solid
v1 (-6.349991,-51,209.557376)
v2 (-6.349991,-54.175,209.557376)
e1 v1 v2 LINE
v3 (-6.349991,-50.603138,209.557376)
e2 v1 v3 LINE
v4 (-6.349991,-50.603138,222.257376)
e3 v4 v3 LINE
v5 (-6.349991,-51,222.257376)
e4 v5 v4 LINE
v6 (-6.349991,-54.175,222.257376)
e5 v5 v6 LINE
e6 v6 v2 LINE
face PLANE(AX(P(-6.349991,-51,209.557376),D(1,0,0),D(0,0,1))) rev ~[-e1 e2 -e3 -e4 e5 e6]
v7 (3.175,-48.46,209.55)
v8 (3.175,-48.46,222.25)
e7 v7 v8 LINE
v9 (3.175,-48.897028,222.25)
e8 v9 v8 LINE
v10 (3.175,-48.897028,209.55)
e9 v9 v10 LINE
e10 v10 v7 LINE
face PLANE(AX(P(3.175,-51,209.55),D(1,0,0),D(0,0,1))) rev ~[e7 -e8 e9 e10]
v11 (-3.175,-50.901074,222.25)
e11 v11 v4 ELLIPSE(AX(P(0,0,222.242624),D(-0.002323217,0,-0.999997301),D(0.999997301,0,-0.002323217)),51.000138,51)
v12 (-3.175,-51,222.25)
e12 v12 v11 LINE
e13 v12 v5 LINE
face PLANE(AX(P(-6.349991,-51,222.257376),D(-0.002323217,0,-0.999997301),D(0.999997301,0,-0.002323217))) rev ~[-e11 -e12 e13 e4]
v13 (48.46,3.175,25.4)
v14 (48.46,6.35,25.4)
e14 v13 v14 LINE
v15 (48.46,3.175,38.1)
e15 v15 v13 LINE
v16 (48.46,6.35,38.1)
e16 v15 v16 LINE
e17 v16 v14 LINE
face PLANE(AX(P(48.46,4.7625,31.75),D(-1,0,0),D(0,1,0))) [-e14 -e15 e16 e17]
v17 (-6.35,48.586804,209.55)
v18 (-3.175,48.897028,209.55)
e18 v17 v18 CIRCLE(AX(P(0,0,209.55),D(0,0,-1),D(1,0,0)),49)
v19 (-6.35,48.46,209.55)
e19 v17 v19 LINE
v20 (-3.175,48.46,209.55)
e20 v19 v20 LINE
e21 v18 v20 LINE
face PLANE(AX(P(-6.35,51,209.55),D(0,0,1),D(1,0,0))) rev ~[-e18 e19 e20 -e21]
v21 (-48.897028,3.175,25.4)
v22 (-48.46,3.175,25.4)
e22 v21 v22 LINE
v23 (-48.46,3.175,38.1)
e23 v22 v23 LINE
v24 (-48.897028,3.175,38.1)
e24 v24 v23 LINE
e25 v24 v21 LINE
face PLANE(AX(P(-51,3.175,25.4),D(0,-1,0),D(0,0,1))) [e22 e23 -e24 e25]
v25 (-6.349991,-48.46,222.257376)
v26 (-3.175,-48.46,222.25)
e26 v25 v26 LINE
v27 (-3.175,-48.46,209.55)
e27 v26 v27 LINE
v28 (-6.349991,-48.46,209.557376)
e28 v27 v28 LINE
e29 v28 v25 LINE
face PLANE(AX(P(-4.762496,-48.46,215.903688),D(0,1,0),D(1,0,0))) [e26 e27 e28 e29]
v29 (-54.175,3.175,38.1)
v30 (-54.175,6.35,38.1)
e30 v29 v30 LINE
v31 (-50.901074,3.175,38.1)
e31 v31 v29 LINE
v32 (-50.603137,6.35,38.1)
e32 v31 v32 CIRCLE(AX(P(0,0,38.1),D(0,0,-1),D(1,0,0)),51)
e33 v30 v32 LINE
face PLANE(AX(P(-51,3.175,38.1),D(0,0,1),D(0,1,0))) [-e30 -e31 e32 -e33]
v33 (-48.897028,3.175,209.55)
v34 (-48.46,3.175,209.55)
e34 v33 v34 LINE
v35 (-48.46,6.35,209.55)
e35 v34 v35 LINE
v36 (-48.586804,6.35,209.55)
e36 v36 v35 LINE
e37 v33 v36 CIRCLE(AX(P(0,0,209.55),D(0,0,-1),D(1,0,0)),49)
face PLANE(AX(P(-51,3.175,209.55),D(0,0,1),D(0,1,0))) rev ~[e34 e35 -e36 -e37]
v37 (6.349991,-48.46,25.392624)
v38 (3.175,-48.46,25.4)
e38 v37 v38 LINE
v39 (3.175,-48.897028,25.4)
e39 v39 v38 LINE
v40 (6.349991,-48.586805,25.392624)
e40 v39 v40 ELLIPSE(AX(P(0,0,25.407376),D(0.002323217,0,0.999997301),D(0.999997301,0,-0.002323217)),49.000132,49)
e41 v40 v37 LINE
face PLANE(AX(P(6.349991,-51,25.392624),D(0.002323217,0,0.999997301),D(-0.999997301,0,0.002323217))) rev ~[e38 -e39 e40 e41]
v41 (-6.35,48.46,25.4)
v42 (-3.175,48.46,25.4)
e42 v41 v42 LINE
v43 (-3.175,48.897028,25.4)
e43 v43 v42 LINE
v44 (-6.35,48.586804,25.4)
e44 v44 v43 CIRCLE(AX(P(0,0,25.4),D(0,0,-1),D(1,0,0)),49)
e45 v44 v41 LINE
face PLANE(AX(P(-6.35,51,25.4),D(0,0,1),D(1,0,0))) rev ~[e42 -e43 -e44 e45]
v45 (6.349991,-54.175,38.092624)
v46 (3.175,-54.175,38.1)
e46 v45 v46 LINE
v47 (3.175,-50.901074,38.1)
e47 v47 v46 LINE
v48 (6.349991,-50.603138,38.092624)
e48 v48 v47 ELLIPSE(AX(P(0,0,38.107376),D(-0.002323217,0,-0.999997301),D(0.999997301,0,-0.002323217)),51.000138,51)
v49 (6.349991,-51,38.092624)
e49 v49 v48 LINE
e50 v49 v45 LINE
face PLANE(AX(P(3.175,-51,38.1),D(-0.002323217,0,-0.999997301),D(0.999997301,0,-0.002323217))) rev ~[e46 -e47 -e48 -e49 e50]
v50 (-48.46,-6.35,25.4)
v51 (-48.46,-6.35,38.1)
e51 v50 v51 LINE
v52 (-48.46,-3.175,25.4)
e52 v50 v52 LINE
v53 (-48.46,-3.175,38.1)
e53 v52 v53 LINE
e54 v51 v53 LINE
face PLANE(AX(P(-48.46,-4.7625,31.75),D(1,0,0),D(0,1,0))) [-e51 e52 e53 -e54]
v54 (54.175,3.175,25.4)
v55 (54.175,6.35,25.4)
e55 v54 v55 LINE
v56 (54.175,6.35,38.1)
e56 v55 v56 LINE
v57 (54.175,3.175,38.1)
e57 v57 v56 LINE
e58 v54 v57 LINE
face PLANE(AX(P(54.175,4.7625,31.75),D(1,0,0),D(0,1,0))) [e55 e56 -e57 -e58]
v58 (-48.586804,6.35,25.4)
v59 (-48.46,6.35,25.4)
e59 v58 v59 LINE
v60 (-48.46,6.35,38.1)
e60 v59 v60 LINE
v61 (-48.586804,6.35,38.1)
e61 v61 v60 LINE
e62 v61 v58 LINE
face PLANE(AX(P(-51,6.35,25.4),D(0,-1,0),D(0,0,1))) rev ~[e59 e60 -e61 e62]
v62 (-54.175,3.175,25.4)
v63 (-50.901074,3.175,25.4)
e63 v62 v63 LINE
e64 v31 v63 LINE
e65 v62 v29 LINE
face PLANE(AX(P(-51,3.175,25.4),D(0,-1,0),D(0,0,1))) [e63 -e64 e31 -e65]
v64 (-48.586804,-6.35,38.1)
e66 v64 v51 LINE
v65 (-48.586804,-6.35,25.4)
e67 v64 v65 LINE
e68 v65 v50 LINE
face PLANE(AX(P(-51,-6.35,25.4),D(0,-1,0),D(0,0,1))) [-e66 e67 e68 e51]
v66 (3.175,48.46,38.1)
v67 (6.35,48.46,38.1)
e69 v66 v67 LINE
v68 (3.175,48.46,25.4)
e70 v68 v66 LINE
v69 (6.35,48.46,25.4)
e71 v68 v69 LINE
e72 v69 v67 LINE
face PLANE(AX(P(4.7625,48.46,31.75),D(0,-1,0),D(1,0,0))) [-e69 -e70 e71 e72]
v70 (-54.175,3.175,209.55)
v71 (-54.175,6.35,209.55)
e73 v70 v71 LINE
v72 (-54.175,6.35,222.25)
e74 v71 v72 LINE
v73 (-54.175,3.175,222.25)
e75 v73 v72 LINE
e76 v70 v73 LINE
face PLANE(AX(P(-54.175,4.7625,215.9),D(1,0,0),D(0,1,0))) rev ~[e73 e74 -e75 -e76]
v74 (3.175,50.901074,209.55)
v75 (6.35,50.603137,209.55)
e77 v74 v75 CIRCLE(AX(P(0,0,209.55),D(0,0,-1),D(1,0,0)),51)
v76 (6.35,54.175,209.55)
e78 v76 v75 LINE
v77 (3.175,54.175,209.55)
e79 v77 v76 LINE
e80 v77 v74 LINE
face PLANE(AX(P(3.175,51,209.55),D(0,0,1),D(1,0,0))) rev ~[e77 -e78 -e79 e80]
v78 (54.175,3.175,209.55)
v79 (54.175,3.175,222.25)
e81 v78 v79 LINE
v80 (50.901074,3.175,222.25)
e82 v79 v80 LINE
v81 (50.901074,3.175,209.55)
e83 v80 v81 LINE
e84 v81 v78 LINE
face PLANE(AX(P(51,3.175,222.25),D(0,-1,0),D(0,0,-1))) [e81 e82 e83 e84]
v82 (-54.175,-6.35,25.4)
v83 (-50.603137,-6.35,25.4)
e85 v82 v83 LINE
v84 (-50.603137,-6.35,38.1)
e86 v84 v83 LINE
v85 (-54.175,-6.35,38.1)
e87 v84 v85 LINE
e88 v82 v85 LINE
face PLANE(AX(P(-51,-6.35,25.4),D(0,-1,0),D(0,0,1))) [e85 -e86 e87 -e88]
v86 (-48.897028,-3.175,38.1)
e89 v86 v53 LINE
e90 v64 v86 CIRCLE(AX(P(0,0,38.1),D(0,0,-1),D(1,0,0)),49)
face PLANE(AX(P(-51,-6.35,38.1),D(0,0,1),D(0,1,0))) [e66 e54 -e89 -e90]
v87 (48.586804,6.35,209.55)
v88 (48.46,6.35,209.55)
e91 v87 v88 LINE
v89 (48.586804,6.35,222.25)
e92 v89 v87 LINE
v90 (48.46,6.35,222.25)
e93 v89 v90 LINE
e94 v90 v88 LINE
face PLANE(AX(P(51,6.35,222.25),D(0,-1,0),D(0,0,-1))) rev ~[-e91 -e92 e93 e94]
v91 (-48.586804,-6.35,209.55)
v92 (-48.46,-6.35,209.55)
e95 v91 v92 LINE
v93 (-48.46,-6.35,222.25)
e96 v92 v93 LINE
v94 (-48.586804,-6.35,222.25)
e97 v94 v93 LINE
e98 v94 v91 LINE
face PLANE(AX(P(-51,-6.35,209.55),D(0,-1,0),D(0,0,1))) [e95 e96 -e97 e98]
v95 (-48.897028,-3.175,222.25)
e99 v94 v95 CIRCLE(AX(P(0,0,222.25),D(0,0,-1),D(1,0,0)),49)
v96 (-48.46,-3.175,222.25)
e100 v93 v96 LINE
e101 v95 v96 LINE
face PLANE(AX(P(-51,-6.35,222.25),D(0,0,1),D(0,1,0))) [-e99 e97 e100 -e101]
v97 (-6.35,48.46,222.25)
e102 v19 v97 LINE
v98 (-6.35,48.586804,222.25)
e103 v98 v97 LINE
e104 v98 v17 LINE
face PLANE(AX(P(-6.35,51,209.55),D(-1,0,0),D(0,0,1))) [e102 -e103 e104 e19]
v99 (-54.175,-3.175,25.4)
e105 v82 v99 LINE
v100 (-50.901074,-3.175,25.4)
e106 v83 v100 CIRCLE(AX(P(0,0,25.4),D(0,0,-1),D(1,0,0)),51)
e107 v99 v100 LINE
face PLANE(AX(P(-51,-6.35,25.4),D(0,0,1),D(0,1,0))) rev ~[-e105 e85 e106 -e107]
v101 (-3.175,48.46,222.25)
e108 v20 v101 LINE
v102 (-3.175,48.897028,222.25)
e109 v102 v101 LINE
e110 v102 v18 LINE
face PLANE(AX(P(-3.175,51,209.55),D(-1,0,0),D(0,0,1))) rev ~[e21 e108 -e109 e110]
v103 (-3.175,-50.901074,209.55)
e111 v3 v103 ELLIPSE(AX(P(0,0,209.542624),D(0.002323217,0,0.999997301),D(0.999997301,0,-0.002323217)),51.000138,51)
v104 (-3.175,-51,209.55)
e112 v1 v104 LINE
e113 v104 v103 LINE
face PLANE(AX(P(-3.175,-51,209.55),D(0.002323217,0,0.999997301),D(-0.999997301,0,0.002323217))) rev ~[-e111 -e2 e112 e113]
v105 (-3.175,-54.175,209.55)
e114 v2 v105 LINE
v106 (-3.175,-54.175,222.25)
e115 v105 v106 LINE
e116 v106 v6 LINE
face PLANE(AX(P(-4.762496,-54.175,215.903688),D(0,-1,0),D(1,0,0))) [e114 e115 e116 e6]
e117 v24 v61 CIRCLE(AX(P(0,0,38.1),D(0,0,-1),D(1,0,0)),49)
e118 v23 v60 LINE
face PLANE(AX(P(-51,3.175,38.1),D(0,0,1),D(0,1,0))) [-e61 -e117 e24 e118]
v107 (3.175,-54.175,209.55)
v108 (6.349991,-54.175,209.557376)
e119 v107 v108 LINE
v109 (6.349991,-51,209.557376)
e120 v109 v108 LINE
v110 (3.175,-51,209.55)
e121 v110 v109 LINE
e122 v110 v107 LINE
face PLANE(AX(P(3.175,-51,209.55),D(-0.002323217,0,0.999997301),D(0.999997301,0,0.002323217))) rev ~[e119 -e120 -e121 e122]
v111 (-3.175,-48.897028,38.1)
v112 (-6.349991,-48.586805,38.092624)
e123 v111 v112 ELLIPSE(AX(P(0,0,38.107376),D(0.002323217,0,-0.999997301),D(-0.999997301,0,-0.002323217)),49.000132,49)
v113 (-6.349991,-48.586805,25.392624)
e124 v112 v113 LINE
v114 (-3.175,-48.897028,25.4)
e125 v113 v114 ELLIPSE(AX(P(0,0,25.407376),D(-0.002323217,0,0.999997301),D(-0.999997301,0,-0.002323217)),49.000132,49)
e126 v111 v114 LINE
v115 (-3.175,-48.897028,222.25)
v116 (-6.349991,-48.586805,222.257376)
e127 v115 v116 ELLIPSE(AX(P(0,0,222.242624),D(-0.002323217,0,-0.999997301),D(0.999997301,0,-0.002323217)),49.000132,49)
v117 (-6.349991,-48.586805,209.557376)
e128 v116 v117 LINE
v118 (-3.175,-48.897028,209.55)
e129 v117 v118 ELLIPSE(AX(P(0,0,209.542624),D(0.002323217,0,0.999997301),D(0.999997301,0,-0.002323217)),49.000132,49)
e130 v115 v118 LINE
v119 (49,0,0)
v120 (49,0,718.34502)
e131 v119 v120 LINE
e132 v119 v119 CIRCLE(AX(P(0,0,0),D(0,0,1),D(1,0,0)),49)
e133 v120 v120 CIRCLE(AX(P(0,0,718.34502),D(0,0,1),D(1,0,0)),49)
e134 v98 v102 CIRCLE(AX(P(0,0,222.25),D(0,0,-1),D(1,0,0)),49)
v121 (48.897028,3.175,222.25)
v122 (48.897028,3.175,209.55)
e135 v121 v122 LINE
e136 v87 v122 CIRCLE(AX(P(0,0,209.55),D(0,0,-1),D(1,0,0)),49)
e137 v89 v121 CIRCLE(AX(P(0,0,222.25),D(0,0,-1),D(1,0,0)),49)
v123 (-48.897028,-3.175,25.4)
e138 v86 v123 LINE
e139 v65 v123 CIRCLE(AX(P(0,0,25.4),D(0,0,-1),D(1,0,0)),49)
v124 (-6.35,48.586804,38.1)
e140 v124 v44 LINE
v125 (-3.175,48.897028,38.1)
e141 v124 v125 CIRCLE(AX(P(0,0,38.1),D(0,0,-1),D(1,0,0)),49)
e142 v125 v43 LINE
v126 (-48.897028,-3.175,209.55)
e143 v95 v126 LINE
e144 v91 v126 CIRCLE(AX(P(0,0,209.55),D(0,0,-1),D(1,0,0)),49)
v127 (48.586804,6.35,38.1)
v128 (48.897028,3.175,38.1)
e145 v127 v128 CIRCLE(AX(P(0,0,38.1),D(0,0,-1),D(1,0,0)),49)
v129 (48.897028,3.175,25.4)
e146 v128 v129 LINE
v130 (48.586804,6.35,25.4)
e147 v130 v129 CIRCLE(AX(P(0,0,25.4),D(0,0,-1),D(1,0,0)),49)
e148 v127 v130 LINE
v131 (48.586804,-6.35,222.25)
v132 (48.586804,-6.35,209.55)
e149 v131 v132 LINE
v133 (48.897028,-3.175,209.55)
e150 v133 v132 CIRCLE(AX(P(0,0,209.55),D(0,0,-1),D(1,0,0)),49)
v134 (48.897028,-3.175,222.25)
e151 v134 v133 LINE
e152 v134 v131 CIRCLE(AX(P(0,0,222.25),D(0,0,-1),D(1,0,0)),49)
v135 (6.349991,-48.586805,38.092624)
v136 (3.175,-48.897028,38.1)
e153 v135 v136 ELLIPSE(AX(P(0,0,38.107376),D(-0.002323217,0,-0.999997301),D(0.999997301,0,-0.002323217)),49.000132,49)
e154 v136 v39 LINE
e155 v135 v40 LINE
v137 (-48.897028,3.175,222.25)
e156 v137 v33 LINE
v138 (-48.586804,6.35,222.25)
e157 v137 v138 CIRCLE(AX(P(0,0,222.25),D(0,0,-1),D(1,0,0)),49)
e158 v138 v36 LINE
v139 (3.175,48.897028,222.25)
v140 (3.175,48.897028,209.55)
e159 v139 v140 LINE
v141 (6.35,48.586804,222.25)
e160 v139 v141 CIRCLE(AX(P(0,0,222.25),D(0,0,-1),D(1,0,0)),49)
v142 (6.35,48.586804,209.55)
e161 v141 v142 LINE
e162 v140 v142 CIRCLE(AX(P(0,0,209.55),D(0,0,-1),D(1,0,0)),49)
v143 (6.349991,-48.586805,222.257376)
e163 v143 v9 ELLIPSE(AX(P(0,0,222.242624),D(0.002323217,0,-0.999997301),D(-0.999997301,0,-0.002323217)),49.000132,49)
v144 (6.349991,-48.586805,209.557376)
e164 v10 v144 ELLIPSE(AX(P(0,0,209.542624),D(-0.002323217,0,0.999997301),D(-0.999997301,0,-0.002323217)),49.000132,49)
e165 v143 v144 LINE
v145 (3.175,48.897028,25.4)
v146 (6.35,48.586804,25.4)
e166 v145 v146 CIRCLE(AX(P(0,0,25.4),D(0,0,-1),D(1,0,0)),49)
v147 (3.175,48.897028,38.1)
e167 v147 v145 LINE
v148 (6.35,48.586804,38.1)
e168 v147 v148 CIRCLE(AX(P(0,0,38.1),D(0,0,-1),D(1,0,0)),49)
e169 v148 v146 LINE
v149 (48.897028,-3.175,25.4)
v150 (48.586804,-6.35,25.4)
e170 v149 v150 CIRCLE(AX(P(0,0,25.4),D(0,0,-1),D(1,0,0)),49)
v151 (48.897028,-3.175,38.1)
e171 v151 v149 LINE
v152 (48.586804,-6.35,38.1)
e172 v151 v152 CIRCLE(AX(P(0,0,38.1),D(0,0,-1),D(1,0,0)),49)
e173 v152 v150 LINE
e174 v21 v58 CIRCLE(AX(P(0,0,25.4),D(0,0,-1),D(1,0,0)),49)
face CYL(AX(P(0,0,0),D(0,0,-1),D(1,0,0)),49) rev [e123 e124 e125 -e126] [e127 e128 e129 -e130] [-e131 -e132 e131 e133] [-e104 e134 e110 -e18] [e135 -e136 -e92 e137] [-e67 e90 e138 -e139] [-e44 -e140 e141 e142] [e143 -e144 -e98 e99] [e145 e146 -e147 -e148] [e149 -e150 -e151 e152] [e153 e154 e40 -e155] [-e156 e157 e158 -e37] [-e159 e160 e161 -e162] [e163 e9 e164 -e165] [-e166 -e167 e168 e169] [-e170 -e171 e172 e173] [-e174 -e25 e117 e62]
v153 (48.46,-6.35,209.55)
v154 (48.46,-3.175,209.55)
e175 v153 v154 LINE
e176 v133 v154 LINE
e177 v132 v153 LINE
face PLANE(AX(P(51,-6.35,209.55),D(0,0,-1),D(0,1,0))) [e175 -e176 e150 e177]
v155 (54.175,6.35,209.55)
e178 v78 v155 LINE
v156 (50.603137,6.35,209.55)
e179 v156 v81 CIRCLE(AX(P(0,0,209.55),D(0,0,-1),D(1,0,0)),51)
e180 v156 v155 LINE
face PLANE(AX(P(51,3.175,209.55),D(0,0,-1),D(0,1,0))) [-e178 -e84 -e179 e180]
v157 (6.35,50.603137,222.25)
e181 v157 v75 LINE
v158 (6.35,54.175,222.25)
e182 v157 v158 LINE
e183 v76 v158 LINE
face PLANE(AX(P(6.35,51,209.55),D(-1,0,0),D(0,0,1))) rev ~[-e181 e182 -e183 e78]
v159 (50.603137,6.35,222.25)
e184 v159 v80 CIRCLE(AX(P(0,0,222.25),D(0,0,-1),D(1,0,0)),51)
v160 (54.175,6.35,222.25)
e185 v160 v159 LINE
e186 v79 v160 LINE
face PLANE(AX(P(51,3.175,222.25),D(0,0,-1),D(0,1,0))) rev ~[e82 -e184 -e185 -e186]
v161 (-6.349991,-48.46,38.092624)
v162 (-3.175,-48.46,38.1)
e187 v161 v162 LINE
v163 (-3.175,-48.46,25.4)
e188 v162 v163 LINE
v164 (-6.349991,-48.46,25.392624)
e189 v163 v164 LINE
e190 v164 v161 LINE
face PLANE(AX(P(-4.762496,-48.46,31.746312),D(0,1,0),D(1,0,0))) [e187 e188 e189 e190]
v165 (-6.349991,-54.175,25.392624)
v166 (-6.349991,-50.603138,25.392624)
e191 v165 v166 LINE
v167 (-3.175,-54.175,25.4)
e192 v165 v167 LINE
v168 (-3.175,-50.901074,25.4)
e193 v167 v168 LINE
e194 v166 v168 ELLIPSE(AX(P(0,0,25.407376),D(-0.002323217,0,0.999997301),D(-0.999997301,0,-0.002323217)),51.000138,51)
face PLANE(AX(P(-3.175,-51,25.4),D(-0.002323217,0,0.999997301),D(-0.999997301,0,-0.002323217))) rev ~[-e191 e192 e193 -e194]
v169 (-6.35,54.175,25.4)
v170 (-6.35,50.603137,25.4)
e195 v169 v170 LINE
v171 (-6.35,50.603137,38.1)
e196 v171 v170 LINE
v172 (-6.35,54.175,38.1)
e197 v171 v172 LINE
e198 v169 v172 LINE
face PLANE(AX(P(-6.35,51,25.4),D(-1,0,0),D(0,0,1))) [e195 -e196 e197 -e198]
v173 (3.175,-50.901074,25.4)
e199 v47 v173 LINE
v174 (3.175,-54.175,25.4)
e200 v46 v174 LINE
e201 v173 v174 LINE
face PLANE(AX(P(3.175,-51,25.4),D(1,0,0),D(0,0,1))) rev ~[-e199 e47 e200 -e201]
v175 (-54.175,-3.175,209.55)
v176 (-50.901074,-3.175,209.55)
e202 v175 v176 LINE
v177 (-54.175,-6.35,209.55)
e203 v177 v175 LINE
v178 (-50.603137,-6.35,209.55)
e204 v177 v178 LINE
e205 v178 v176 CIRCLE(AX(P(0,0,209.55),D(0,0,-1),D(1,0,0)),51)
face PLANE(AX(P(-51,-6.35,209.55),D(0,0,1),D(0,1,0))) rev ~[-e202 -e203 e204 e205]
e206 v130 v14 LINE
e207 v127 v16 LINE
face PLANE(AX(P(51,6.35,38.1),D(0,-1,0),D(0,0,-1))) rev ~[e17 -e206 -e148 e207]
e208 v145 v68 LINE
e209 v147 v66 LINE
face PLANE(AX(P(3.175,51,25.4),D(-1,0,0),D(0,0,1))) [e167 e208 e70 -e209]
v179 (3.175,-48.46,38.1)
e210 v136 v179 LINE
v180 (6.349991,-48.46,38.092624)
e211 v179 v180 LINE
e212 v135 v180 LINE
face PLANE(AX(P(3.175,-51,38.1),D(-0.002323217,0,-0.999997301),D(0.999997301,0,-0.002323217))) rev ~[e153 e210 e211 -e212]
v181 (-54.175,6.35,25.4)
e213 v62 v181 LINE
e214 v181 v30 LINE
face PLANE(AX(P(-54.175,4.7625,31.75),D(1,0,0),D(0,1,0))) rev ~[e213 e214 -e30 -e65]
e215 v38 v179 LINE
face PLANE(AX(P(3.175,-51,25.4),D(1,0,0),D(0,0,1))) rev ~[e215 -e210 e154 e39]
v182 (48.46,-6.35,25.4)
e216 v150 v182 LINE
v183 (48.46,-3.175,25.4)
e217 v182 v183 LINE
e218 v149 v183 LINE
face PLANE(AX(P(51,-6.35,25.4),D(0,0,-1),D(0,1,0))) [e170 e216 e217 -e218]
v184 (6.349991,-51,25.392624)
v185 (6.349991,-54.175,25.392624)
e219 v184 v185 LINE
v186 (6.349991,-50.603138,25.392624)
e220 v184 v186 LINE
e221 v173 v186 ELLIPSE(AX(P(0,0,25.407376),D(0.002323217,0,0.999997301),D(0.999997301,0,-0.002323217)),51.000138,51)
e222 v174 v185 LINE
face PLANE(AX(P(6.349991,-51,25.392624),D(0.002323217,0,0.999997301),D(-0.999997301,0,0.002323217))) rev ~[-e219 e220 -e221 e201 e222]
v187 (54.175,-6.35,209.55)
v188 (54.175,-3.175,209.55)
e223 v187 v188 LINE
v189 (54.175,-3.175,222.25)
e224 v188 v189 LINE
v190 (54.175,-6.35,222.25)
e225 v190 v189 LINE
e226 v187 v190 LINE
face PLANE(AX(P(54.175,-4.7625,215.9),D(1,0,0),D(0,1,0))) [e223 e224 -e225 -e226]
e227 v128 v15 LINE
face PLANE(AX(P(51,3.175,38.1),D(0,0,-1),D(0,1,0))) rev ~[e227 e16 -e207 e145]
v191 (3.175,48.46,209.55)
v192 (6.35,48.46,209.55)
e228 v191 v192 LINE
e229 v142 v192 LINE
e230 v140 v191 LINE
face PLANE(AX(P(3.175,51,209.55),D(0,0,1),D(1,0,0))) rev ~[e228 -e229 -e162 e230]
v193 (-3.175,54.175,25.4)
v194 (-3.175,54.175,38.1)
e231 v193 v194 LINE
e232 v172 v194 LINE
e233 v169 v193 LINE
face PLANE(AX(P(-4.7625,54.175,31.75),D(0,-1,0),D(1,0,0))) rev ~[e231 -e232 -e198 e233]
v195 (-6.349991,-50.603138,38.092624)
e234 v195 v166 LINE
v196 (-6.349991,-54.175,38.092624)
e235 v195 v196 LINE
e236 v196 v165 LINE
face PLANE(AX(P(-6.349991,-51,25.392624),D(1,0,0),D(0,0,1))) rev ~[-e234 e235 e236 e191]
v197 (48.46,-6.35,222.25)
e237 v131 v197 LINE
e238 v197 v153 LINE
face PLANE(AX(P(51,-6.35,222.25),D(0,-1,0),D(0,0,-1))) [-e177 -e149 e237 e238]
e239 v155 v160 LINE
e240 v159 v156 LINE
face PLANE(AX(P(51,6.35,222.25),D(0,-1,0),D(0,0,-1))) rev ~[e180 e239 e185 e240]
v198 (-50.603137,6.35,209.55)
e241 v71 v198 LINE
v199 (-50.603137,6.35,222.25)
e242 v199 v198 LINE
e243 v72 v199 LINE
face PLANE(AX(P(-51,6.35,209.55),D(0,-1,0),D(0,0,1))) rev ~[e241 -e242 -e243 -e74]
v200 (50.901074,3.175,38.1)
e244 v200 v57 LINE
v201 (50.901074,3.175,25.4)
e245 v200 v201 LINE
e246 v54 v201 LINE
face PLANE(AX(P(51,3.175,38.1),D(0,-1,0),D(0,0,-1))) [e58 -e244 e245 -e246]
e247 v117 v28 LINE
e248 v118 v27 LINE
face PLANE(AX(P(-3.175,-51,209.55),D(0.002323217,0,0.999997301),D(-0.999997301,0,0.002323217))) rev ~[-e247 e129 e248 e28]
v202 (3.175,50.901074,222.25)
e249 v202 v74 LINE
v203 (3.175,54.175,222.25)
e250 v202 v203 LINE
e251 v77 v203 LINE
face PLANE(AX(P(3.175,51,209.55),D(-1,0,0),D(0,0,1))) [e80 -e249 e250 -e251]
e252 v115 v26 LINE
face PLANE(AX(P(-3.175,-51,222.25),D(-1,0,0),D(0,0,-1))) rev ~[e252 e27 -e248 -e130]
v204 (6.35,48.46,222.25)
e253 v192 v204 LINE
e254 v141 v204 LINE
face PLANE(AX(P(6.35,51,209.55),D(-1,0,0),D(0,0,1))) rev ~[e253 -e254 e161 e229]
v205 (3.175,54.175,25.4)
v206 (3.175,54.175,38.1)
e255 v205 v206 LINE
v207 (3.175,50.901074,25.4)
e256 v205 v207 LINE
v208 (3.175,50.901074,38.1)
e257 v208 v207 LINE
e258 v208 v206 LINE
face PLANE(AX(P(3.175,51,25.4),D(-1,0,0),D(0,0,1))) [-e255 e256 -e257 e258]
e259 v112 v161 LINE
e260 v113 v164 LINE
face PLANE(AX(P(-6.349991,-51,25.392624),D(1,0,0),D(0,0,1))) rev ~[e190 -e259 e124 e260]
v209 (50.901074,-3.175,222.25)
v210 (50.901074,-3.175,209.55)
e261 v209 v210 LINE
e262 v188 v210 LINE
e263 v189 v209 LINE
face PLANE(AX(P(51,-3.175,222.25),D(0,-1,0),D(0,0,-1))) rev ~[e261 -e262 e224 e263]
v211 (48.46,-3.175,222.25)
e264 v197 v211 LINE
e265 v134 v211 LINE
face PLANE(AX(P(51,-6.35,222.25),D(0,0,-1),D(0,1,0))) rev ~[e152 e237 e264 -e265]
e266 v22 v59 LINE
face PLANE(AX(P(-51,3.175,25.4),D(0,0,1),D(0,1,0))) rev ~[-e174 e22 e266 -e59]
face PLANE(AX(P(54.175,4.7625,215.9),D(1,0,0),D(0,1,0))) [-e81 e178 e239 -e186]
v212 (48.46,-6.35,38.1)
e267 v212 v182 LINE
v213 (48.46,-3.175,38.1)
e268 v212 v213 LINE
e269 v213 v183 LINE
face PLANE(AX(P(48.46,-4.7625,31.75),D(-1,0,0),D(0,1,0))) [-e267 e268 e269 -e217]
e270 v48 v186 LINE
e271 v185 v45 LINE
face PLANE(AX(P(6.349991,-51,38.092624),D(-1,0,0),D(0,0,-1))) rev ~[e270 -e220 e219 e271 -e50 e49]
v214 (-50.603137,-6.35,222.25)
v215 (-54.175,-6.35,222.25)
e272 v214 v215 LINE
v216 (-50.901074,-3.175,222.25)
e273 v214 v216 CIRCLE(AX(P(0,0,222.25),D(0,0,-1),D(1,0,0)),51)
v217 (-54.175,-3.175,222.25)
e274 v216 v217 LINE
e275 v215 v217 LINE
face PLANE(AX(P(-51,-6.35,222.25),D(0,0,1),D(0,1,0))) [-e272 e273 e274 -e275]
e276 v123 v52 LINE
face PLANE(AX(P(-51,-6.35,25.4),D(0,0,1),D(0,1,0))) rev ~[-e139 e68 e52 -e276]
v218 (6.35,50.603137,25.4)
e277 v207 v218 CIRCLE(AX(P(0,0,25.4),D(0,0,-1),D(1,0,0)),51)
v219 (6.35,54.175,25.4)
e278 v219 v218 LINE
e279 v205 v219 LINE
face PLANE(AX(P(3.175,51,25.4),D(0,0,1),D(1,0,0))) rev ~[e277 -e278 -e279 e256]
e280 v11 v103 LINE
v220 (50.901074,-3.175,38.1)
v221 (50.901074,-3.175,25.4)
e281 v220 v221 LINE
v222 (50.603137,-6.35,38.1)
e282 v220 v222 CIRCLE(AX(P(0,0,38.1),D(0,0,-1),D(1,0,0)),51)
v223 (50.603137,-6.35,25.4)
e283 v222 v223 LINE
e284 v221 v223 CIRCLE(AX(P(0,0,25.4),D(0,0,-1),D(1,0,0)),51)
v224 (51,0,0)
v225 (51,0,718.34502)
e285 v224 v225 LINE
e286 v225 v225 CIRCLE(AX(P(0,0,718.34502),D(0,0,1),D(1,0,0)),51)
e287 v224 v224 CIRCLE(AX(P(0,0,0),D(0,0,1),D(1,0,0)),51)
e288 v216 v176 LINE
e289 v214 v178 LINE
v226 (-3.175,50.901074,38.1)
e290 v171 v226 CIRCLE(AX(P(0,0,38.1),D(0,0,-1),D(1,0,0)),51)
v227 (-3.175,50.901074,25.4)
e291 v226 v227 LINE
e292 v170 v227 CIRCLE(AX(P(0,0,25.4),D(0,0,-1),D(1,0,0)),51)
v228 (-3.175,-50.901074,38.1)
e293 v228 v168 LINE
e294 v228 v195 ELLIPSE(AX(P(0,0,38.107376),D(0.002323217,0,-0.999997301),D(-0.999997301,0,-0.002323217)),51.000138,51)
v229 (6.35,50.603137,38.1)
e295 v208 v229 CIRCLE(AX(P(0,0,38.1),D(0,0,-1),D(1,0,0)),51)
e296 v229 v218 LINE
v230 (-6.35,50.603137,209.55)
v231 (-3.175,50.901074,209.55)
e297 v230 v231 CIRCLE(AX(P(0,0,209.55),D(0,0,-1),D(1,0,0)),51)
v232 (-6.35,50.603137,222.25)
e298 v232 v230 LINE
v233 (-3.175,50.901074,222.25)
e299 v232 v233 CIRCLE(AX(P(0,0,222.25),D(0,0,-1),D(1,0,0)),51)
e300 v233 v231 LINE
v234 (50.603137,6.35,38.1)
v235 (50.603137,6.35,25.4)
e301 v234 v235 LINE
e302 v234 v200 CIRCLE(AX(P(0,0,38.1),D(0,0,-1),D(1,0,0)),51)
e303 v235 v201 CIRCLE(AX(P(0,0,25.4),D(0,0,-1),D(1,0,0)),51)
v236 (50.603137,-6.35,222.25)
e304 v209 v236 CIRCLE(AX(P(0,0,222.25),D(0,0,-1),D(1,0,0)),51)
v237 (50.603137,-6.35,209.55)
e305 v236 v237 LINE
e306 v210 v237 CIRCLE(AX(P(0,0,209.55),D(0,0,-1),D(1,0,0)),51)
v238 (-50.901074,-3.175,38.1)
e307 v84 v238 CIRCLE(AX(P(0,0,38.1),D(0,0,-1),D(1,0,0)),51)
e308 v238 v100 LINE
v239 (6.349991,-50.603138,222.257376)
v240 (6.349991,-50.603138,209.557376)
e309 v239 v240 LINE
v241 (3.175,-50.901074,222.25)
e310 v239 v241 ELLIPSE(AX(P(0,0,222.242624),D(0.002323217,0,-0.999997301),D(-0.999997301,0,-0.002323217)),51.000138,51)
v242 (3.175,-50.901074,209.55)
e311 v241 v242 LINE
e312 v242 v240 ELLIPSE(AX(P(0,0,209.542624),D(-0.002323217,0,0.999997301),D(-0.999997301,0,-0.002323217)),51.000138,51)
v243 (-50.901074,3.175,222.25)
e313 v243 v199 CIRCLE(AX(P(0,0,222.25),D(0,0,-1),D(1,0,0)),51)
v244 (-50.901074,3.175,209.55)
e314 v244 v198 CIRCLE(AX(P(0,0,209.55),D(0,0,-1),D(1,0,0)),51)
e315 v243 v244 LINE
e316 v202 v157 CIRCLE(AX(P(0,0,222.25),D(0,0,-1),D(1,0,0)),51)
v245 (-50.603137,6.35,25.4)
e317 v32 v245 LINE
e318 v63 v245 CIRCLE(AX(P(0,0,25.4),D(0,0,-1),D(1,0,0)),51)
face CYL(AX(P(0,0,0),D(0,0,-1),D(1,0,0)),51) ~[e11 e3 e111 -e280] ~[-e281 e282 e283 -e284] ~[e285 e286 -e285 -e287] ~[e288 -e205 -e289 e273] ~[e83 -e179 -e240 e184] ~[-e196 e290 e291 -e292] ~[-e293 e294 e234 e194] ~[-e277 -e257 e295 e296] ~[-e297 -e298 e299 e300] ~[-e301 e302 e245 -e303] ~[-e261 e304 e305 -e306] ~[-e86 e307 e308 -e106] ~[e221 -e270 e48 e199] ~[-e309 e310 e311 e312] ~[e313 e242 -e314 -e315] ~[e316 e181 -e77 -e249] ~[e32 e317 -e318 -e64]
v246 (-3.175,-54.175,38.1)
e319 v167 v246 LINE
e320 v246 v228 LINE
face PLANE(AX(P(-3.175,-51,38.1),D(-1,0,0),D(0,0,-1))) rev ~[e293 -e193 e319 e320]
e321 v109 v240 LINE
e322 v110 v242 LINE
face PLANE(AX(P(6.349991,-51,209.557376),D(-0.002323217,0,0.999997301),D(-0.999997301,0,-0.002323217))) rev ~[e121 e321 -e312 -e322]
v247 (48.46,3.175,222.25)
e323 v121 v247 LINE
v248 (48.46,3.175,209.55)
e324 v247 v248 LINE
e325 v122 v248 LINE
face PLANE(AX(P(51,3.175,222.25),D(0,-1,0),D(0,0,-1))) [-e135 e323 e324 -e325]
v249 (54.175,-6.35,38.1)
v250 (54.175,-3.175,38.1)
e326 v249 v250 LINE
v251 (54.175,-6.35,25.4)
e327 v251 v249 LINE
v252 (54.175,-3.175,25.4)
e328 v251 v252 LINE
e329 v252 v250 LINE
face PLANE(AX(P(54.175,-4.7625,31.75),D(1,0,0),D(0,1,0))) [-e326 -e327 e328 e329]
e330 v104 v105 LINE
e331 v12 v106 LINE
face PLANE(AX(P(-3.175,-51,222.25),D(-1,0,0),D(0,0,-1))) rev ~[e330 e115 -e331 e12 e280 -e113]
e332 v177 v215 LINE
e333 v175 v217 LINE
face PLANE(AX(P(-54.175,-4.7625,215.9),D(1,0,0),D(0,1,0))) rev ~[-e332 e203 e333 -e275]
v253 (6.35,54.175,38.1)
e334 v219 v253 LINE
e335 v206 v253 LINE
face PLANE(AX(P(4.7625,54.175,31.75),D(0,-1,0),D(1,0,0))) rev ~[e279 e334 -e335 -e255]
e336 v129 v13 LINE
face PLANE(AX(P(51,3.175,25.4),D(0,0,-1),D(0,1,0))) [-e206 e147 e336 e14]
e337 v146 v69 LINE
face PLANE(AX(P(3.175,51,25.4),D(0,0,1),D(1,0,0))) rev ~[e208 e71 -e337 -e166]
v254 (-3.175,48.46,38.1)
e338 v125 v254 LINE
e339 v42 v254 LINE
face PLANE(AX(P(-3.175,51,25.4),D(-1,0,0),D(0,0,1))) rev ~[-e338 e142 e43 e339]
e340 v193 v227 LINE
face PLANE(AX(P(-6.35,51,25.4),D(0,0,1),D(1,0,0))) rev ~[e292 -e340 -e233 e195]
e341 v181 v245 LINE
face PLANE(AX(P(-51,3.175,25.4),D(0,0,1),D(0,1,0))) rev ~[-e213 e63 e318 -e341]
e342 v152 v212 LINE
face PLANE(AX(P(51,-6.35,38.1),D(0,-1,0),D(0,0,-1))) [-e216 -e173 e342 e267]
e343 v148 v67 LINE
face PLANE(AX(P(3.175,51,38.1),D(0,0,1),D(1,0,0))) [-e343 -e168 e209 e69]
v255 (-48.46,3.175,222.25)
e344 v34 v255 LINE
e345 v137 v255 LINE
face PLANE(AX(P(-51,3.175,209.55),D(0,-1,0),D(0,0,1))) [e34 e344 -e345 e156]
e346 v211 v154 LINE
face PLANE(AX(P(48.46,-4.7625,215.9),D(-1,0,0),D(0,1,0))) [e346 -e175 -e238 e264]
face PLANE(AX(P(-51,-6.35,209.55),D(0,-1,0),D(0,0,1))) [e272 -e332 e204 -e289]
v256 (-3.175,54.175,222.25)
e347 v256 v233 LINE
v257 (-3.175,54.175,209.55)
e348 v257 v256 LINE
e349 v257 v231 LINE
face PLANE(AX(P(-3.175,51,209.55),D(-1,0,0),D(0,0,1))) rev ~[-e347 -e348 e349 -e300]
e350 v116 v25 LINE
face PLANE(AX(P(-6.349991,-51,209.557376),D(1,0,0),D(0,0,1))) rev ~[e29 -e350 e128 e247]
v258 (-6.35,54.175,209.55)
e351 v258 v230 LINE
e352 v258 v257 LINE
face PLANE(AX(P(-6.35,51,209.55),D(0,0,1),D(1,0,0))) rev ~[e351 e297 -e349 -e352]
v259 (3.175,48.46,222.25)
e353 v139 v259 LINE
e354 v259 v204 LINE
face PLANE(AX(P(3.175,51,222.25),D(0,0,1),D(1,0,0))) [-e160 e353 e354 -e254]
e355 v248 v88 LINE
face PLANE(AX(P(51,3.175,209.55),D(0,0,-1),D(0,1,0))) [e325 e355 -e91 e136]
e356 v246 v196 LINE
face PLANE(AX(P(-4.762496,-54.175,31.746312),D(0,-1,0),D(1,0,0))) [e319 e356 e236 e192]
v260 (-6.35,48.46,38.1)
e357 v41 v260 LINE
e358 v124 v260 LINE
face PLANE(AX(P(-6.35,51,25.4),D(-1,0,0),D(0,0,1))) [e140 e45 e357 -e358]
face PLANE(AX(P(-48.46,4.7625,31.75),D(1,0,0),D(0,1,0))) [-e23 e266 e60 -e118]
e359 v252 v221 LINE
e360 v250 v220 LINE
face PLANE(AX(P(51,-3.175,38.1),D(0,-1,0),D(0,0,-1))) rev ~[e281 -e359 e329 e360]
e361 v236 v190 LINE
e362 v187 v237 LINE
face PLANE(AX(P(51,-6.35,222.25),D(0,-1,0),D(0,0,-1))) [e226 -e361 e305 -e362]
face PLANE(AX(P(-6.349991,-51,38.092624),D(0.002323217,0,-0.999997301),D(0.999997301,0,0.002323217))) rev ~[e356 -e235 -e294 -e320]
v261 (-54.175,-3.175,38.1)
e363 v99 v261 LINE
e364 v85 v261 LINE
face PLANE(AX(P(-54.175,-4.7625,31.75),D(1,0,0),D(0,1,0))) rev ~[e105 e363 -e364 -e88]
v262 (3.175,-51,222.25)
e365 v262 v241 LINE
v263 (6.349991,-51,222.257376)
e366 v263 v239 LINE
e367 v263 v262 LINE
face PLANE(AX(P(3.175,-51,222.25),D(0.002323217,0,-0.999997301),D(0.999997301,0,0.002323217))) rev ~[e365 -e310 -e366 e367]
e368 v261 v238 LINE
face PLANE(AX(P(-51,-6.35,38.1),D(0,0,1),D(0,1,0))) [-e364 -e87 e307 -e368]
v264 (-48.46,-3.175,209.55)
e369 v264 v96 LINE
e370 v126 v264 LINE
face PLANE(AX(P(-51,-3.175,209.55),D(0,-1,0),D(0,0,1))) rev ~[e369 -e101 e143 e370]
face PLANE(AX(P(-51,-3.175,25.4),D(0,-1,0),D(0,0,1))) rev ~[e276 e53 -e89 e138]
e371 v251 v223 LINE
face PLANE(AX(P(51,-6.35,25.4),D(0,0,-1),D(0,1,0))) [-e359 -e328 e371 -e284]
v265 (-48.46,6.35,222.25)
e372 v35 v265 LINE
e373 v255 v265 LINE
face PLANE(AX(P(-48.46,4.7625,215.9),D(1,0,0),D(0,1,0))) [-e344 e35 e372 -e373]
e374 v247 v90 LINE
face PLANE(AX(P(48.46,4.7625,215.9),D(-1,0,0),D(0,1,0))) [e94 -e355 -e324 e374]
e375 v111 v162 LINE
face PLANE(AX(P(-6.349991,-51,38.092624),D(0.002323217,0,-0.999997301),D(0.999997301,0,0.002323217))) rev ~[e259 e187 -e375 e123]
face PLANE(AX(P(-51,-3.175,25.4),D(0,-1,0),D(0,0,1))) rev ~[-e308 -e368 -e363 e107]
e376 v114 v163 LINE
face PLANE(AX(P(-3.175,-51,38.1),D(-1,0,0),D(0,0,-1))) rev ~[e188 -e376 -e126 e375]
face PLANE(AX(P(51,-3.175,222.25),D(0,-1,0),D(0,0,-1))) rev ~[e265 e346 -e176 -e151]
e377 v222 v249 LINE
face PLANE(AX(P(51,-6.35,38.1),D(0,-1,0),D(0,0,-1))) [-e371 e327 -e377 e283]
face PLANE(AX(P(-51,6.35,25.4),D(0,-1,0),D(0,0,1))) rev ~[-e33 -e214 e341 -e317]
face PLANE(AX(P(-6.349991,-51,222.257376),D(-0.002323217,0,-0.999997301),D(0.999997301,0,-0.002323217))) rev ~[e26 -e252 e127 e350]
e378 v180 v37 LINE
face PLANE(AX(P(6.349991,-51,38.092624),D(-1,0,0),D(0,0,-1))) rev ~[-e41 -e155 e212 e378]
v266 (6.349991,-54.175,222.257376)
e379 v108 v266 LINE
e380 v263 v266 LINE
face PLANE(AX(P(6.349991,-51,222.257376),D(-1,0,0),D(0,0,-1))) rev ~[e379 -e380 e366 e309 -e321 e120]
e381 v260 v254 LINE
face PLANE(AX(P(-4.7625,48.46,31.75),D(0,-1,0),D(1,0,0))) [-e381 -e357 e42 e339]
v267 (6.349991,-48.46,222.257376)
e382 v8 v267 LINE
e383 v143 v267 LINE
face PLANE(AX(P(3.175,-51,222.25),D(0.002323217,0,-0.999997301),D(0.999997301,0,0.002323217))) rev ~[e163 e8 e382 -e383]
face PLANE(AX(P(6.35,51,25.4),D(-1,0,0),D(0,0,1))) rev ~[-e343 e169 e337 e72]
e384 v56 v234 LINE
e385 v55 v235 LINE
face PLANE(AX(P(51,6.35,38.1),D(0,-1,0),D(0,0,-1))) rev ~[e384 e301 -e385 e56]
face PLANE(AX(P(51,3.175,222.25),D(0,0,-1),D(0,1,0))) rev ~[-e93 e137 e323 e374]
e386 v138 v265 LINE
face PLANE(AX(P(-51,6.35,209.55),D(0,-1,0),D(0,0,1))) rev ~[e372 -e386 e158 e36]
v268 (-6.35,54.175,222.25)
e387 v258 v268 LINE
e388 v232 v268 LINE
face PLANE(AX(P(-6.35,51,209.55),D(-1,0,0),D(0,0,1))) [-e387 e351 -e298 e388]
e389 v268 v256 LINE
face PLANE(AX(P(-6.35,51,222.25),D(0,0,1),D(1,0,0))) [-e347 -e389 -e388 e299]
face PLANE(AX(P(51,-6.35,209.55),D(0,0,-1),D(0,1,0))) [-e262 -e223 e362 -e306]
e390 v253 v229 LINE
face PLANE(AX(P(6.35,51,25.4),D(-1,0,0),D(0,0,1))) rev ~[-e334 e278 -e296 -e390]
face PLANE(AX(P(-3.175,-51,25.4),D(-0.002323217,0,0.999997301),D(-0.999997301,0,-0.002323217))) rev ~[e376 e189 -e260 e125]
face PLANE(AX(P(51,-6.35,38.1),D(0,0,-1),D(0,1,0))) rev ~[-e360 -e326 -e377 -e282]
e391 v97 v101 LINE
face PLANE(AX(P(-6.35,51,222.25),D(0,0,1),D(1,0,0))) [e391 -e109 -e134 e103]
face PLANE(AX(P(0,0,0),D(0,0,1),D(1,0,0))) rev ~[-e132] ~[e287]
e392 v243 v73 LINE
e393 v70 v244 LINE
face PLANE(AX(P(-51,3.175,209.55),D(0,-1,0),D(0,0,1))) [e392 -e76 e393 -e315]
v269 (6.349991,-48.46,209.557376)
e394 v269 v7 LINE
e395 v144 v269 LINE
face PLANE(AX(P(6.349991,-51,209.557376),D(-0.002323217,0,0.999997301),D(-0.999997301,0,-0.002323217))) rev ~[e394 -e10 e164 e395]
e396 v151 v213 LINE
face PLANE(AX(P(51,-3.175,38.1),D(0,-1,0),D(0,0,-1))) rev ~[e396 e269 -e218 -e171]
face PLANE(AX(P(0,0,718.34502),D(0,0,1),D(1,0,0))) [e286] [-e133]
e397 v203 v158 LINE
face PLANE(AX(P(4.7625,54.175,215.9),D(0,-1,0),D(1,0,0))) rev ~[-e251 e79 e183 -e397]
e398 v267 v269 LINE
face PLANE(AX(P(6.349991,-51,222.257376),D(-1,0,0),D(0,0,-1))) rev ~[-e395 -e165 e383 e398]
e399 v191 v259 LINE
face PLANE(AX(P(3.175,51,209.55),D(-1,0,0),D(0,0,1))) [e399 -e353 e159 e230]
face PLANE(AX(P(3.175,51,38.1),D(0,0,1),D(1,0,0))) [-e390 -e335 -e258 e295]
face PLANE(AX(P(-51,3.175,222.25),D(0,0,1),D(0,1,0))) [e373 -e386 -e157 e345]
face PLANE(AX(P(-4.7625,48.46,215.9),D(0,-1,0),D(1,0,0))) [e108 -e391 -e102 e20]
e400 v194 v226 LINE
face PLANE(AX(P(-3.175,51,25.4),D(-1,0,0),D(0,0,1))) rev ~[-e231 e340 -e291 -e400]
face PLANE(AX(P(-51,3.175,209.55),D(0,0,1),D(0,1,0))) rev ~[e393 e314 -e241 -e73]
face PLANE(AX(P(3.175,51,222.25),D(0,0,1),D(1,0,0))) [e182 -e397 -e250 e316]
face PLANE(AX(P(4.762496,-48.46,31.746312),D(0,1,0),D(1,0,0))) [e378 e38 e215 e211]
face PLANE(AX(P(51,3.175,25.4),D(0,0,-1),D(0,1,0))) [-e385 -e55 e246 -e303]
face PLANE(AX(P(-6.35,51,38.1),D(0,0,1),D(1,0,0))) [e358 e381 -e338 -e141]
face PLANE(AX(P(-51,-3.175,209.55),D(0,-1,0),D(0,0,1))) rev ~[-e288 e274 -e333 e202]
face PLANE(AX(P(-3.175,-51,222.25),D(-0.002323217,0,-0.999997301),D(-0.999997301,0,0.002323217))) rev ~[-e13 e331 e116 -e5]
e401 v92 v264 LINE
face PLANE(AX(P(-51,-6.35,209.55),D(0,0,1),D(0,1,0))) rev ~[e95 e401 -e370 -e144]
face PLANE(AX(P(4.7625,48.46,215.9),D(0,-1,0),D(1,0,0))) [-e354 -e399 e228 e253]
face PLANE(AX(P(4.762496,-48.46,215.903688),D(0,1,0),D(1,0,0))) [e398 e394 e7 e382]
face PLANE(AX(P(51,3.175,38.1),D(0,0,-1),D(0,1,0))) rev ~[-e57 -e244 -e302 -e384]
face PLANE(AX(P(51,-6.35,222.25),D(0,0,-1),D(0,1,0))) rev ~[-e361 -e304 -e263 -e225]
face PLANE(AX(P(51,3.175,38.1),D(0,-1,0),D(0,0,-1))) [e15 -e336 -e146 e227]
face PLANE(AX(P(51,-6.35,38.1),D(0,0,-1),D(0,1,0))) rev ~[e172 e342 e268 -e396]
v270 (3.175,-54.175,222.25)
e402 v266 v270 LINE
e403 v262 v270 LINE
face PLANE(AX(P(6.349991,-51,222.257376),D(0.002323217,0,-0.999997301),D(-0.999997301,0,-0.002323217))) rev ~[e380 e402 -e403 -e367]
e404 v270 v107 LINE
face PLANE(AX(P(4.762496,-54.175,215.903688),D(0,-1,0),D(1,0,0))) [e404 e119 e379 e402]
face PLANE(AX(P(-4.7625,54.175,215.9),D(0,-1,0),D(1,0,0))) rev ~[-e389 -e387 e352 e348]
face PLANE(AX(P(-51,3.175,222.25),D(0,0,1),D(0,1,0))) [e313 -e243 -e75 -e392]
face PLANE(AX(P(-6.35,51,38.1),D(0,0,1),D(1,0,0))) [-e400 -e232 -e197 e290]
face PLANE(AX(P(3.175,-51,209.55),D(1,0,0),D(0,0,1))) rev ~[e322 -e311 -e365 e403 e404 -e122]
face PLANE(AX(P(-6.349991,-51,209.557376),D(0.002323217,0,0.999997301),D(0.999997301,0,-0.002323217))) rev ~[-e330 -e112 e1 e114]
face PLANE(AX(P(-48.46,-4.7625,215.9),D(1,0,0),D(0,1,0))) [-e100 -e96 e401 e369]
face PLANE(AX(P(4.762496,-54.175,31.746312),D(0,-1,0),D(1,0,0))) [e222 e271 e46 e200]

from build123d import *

# Parameters (mm, degrees)
F0_R       = 51
F0_R_2     = 49
F1_DEPTH   = 718.34502
F5_DEPTH   = 3.175
F7_W       = 3.175
F7_H       = 12.7
F8_DEPTH   = 3.175
F10_W      = 3.175
F10_H      = 12.7
F11_DEPTH  = 3.175
F13_W      = 3.175
F13_H      = 12.7
F14_DEPTH  = 3.175
F15_DEPTH  = 2.54
F8_FACE_W  = 3.175
F8_FACE_H  = 12.7
F16_DEPTH  = 2.54
F11_FACE_W = 3.175
F11_FACE_H = 12.7
F17_DEPTH  = 2.54
F14_FACE_W = 3.175
F14_FACE_H = 12.7
F18_DEPTH  = 2.54


with BuildPart() as f1:
    # F0 (on Top) → F1 (new body)
    with BuildSketch(Plane.XY):
        Circle(F0_R)
        Circle(F0_R_2, mode=Mode.SUBTRACT)
    extrude(amount=F1_DEPTH)



with BuildPart() as f5:
    # F4 (on line) → F5 (new body)
    with BuildSketch(Plane.XZ.offset(51)):
        Polygon((-3.175, 209.55), (-3.175, 222.25), (-6.3499914317, 222.2573762128), (-6.3499914317, 209.5573762128), align=None)
    extrude(amount=F5_DEPTH)


with BuildPart() as f5b:
    # F4 (on line) → F5, piece 2 (new body)
    with BuildSketch(Plane.XZ.offset(51)):
        Polygon((6.3499914317, 222.2573762128), (3.175, 222.25), (3.175, 209.55), (6.3499914317, 209.5573762128), align=None)
    extrude(amount=F5_DEPTH)


with BuildPart() as f5c:
    # F4 (on line) → F5, piece 3 (new body)
    with BuildSketch(Plane.XZ.offset(51)):
        Polygon((3.175, 38.1), (3.175, 25.4), (6.3499914317, 25.3926237872), (6.3499914317, 38.0926237872), align=None)
    extrude(amount=F5_DEPTH)


with BuildPart() as f5d:
    # F4 (on line) → F5, piece 4 (new body)
    with BuildSketch(Plane.XZ.offset(51)):
        Polygon((-6.3499914317, 25.3926237872), (-3.175, 25.4), (-3.175, 38.1), (-6.3499914317, 38.0926237872), align=None)
    extrude(amount=F5_DEPTH)


with BuildPart() as f8:
    # F7 (on line) → F8 (new body)
    with BuildSketch(Plane.YZ.offset(51)):
        with Locations((-4.7625, 215.9)):
            Rectangle(F7_W, F7_H)
    extrude(amount=F8_DEPTH)


with BuildPart() as f8b:
    # F7 (on line) → F8, piece 2 (new body)
    with BuildSketch(Plane.YZ.offset(51)):
        with Locations((4.7625, 215.9)):
            Rectangle(F7_W, F7_H)
    extrude(amount=F8_DEPTH)


with BuildPart() as f8c:
    # F7 (on line) → F8, piece 3 (new body)
    with BuildSketch(Plane.YZ.offset(51)):
        with Locations((4.7625, 31.75)):
            Rectangle(F7_W, F7_H)
    extrude(amount=F8_DEPTH)


with BuildPart() as f8d:
    # F7 (on line) → F8, piece 4 (new body)
    with BuildSketch(Plane.YZ.offset(51)):
        with Locations((-4.7625, 31.75)):
            Rectangle(F7_W, F7_H)
    extrude(amount=F8_DEPTH)


with BuildPart() as f11:
    # F10 (on line) → F11 (new body)
    with BuildSketch(Plane.XZ.offset(-51)):
        with Locations((-4.7625, 215.9)):
            Rectangle(F10_W, F10_H)
    extrude(amount=-F11_DEPTH)


with BuildPart() as f11b:
    # F10 (on line) → F11, piece 2 (new body)
    with BuildSketch(Plane.XZ.offset(-51)):
        with Locations((4.7625, 215.9)):
            Rectangle(F10_W, F10_H)
    extrude(amount=-F11_DEPTH)


with BuildPart() as f11c:
    # F10 (on line) → F11, piece 3 (new body)
    with BuildSketch(Plane.XZ.offset(-51)):
        with Locations((-4.7625, 31.75)):
            Rectangle(F10_W, F10_H)
    extrude(amount=-F11_DEPTH)


with BuildPart() as f11d:
    # F10 (on line) → F11, piece 4 (new body)
    with BuildSketch(Plane.XZ.offset(-51)):
        with Locations((4.7625, 31.75)):
            Rectangle(F10_W, F10_H)
    extrude(amount=-F11_DEPTH)


with BuildPart() as f14:
    # F13 (on line) → F14 (new body)
    with BuildSketch(Plane.YZ.offset(-51)):
        with Locations((-4.7625, 215.9)):
            Rectangle(F13_W, F13_H)
    extrude(amount=-F14_DEPTH)


with BuildPart() as f14b:
    # F13 (on line) → F14, piece 2 (new body)
    with BuildSketch(Plane.YZ.offset(-51)):
        with Locations((4.7625, 215.9)):
            Rectangle(F13_W, F13_H)
    extrude(amount=-F14_DEPTH)


with BuildPart() as f14c:
    # F13 (on line) → F14, piece 3 (new body)
    with BuildSketch(Plane.YZ.offset(-51)):
        with Locations((-4.7625, 31.75)):
            Rectangle(F13_W, F13_H)
    extrude(amount=-F14_DEPTH)


with BuildPart() as f14d:
    # F13 (on line) → F14, piece 4 (new body)
    with BuildSketch(Plane.YZ.offset(-51)):
        with Locations((4.7625, 31.75)):
            Rectangle(F13_W, F13_H)
    extrude(amount=-F14_DEPTH)


with BuildPart() as f1_1:
    add(f1.part)

    add(f5.part)  # F15 merges F5

    add(f5b.part)  # F15 merges F5b

    add(f5c.part)  # F15 merges F5c

    add(f5d.part)  # F15 merges F5d
    # F5_face (on face) → F15 (join)
    with BuildSketch(Plane(origin=(4.7624957159, -51, 31.7463118936), x_dir=(1, 0, 0), z_dir=(0, 1, 0))):
        Polygon((-1.5874957159, -6.3536881064), (1.5874957159, -6.3463118936), (1.5874957159, 6.3536881064), (-1.5874957159, 6.3463118936), align=None)
        Polygon((-11.1124871476, 6.3536881064), (-11.1124871476, -6.3463118936), (-7.9374957159, -6.3536881064), (-7.9374957159, 6.3463118936), align=None)
        Polygon((-1.5874957159, -190.5036881064), (1.5874957159, -190.5110643193), (1.5874957159, -177.8110643193), (-1.5874957159, -177.8036881064), align=None)
        Polygon((-7.9374957159, -190.5036881064), (-7.9374957159, -177.8036881064), (-11.1124871476, -177.8110643193), (-11.1124871476, -190.5110643193), align=None)
    extrude(amount=F15_DEPTH)


    add(f8.part)  # F16 merges F8

    add(f8b.part)  # F16 merges F8b

    add(f8c.part)  # F16 merges F8c

    add(f8d.part)  # F16 merges F8d
    # F8_face (on face) → F16 (join)
    with BuildSketch(Plane(origin=(51, 4.7625, 215.9), x_dir=(0, 1, 0), z_dir=(-1, 0, 0))):
        Rectangle(F8_FACE_W, F8_FACE_H)
        with Locations((-9.525, 0)):
            Rectangle(F8_FACE_W, F8_FACE_H)
        with Locations((-9.525, 184.15)):
            Rectangle(F8_FACE_W, F8_FACE_H)
        with Locations((0, 184.15)):
            Rectangle(F8_FACE_W, F8_FACE_H)
    extrude(amount=F16_DEPTH)


    add(f11.part)  # F17 merges F11

    add(f11b.part)  # F17 merges F11b

    add(f11c.part)  # F17 merges F11c

    add(f11d.part)  # F17 merges F11d
    # F11_face (on face) → F17 (join)
    with BuildSketch(Plane(origin=(4.7625, 51, 215.9), x_dir=(1, 0, 0), z_dir=(0, -1, 0))):
        Rectangle(F11_FACE_W, F11_FACE_H)
        with Locations((-9.525, 0)):
            Rectangle(F11_FACE_W, F11_FACE_H)
        with Locations((-9.525, -184.15)):
            Rectangle(F11_FACE_W, F11_FACE_H)
        with Locations((0, -184.15)):
            Rectangle(F11_FACE_W, F11_FACE_H)
    extrude(amount=F17_DEPTH)


    add(f14.part)  # F18 merges F14

    add(f14b.part)  # F18 merges F14b

    add(f14c.part)  # F18 merges F14c

    add(f14d.part)  # F18 merges F14d
    # F14_face (on face) → F18 (join)
    with BuildSketch(Plane(origin=(-51, -4.7625, 215.9), x_dir=(0, 1, 0), z_dir=(1, 0, 0))):
        Rectangle(F14_FACE_W, F14_FACE_H)
        with Locations((9.525, 0)):
            Rectangle(F14_FACE_W, F14_FACE_H)
        with Locations((0, -184.15)):
            Rectangle(F14_FACE_W, F14_FACE_H)
        with Locations((9.525, -184.15)):
            Rectangle(F14_FACE_W, F14_FACE_H)
    extrude(amount=F18_DEPTH)


solid = f1_1.part
